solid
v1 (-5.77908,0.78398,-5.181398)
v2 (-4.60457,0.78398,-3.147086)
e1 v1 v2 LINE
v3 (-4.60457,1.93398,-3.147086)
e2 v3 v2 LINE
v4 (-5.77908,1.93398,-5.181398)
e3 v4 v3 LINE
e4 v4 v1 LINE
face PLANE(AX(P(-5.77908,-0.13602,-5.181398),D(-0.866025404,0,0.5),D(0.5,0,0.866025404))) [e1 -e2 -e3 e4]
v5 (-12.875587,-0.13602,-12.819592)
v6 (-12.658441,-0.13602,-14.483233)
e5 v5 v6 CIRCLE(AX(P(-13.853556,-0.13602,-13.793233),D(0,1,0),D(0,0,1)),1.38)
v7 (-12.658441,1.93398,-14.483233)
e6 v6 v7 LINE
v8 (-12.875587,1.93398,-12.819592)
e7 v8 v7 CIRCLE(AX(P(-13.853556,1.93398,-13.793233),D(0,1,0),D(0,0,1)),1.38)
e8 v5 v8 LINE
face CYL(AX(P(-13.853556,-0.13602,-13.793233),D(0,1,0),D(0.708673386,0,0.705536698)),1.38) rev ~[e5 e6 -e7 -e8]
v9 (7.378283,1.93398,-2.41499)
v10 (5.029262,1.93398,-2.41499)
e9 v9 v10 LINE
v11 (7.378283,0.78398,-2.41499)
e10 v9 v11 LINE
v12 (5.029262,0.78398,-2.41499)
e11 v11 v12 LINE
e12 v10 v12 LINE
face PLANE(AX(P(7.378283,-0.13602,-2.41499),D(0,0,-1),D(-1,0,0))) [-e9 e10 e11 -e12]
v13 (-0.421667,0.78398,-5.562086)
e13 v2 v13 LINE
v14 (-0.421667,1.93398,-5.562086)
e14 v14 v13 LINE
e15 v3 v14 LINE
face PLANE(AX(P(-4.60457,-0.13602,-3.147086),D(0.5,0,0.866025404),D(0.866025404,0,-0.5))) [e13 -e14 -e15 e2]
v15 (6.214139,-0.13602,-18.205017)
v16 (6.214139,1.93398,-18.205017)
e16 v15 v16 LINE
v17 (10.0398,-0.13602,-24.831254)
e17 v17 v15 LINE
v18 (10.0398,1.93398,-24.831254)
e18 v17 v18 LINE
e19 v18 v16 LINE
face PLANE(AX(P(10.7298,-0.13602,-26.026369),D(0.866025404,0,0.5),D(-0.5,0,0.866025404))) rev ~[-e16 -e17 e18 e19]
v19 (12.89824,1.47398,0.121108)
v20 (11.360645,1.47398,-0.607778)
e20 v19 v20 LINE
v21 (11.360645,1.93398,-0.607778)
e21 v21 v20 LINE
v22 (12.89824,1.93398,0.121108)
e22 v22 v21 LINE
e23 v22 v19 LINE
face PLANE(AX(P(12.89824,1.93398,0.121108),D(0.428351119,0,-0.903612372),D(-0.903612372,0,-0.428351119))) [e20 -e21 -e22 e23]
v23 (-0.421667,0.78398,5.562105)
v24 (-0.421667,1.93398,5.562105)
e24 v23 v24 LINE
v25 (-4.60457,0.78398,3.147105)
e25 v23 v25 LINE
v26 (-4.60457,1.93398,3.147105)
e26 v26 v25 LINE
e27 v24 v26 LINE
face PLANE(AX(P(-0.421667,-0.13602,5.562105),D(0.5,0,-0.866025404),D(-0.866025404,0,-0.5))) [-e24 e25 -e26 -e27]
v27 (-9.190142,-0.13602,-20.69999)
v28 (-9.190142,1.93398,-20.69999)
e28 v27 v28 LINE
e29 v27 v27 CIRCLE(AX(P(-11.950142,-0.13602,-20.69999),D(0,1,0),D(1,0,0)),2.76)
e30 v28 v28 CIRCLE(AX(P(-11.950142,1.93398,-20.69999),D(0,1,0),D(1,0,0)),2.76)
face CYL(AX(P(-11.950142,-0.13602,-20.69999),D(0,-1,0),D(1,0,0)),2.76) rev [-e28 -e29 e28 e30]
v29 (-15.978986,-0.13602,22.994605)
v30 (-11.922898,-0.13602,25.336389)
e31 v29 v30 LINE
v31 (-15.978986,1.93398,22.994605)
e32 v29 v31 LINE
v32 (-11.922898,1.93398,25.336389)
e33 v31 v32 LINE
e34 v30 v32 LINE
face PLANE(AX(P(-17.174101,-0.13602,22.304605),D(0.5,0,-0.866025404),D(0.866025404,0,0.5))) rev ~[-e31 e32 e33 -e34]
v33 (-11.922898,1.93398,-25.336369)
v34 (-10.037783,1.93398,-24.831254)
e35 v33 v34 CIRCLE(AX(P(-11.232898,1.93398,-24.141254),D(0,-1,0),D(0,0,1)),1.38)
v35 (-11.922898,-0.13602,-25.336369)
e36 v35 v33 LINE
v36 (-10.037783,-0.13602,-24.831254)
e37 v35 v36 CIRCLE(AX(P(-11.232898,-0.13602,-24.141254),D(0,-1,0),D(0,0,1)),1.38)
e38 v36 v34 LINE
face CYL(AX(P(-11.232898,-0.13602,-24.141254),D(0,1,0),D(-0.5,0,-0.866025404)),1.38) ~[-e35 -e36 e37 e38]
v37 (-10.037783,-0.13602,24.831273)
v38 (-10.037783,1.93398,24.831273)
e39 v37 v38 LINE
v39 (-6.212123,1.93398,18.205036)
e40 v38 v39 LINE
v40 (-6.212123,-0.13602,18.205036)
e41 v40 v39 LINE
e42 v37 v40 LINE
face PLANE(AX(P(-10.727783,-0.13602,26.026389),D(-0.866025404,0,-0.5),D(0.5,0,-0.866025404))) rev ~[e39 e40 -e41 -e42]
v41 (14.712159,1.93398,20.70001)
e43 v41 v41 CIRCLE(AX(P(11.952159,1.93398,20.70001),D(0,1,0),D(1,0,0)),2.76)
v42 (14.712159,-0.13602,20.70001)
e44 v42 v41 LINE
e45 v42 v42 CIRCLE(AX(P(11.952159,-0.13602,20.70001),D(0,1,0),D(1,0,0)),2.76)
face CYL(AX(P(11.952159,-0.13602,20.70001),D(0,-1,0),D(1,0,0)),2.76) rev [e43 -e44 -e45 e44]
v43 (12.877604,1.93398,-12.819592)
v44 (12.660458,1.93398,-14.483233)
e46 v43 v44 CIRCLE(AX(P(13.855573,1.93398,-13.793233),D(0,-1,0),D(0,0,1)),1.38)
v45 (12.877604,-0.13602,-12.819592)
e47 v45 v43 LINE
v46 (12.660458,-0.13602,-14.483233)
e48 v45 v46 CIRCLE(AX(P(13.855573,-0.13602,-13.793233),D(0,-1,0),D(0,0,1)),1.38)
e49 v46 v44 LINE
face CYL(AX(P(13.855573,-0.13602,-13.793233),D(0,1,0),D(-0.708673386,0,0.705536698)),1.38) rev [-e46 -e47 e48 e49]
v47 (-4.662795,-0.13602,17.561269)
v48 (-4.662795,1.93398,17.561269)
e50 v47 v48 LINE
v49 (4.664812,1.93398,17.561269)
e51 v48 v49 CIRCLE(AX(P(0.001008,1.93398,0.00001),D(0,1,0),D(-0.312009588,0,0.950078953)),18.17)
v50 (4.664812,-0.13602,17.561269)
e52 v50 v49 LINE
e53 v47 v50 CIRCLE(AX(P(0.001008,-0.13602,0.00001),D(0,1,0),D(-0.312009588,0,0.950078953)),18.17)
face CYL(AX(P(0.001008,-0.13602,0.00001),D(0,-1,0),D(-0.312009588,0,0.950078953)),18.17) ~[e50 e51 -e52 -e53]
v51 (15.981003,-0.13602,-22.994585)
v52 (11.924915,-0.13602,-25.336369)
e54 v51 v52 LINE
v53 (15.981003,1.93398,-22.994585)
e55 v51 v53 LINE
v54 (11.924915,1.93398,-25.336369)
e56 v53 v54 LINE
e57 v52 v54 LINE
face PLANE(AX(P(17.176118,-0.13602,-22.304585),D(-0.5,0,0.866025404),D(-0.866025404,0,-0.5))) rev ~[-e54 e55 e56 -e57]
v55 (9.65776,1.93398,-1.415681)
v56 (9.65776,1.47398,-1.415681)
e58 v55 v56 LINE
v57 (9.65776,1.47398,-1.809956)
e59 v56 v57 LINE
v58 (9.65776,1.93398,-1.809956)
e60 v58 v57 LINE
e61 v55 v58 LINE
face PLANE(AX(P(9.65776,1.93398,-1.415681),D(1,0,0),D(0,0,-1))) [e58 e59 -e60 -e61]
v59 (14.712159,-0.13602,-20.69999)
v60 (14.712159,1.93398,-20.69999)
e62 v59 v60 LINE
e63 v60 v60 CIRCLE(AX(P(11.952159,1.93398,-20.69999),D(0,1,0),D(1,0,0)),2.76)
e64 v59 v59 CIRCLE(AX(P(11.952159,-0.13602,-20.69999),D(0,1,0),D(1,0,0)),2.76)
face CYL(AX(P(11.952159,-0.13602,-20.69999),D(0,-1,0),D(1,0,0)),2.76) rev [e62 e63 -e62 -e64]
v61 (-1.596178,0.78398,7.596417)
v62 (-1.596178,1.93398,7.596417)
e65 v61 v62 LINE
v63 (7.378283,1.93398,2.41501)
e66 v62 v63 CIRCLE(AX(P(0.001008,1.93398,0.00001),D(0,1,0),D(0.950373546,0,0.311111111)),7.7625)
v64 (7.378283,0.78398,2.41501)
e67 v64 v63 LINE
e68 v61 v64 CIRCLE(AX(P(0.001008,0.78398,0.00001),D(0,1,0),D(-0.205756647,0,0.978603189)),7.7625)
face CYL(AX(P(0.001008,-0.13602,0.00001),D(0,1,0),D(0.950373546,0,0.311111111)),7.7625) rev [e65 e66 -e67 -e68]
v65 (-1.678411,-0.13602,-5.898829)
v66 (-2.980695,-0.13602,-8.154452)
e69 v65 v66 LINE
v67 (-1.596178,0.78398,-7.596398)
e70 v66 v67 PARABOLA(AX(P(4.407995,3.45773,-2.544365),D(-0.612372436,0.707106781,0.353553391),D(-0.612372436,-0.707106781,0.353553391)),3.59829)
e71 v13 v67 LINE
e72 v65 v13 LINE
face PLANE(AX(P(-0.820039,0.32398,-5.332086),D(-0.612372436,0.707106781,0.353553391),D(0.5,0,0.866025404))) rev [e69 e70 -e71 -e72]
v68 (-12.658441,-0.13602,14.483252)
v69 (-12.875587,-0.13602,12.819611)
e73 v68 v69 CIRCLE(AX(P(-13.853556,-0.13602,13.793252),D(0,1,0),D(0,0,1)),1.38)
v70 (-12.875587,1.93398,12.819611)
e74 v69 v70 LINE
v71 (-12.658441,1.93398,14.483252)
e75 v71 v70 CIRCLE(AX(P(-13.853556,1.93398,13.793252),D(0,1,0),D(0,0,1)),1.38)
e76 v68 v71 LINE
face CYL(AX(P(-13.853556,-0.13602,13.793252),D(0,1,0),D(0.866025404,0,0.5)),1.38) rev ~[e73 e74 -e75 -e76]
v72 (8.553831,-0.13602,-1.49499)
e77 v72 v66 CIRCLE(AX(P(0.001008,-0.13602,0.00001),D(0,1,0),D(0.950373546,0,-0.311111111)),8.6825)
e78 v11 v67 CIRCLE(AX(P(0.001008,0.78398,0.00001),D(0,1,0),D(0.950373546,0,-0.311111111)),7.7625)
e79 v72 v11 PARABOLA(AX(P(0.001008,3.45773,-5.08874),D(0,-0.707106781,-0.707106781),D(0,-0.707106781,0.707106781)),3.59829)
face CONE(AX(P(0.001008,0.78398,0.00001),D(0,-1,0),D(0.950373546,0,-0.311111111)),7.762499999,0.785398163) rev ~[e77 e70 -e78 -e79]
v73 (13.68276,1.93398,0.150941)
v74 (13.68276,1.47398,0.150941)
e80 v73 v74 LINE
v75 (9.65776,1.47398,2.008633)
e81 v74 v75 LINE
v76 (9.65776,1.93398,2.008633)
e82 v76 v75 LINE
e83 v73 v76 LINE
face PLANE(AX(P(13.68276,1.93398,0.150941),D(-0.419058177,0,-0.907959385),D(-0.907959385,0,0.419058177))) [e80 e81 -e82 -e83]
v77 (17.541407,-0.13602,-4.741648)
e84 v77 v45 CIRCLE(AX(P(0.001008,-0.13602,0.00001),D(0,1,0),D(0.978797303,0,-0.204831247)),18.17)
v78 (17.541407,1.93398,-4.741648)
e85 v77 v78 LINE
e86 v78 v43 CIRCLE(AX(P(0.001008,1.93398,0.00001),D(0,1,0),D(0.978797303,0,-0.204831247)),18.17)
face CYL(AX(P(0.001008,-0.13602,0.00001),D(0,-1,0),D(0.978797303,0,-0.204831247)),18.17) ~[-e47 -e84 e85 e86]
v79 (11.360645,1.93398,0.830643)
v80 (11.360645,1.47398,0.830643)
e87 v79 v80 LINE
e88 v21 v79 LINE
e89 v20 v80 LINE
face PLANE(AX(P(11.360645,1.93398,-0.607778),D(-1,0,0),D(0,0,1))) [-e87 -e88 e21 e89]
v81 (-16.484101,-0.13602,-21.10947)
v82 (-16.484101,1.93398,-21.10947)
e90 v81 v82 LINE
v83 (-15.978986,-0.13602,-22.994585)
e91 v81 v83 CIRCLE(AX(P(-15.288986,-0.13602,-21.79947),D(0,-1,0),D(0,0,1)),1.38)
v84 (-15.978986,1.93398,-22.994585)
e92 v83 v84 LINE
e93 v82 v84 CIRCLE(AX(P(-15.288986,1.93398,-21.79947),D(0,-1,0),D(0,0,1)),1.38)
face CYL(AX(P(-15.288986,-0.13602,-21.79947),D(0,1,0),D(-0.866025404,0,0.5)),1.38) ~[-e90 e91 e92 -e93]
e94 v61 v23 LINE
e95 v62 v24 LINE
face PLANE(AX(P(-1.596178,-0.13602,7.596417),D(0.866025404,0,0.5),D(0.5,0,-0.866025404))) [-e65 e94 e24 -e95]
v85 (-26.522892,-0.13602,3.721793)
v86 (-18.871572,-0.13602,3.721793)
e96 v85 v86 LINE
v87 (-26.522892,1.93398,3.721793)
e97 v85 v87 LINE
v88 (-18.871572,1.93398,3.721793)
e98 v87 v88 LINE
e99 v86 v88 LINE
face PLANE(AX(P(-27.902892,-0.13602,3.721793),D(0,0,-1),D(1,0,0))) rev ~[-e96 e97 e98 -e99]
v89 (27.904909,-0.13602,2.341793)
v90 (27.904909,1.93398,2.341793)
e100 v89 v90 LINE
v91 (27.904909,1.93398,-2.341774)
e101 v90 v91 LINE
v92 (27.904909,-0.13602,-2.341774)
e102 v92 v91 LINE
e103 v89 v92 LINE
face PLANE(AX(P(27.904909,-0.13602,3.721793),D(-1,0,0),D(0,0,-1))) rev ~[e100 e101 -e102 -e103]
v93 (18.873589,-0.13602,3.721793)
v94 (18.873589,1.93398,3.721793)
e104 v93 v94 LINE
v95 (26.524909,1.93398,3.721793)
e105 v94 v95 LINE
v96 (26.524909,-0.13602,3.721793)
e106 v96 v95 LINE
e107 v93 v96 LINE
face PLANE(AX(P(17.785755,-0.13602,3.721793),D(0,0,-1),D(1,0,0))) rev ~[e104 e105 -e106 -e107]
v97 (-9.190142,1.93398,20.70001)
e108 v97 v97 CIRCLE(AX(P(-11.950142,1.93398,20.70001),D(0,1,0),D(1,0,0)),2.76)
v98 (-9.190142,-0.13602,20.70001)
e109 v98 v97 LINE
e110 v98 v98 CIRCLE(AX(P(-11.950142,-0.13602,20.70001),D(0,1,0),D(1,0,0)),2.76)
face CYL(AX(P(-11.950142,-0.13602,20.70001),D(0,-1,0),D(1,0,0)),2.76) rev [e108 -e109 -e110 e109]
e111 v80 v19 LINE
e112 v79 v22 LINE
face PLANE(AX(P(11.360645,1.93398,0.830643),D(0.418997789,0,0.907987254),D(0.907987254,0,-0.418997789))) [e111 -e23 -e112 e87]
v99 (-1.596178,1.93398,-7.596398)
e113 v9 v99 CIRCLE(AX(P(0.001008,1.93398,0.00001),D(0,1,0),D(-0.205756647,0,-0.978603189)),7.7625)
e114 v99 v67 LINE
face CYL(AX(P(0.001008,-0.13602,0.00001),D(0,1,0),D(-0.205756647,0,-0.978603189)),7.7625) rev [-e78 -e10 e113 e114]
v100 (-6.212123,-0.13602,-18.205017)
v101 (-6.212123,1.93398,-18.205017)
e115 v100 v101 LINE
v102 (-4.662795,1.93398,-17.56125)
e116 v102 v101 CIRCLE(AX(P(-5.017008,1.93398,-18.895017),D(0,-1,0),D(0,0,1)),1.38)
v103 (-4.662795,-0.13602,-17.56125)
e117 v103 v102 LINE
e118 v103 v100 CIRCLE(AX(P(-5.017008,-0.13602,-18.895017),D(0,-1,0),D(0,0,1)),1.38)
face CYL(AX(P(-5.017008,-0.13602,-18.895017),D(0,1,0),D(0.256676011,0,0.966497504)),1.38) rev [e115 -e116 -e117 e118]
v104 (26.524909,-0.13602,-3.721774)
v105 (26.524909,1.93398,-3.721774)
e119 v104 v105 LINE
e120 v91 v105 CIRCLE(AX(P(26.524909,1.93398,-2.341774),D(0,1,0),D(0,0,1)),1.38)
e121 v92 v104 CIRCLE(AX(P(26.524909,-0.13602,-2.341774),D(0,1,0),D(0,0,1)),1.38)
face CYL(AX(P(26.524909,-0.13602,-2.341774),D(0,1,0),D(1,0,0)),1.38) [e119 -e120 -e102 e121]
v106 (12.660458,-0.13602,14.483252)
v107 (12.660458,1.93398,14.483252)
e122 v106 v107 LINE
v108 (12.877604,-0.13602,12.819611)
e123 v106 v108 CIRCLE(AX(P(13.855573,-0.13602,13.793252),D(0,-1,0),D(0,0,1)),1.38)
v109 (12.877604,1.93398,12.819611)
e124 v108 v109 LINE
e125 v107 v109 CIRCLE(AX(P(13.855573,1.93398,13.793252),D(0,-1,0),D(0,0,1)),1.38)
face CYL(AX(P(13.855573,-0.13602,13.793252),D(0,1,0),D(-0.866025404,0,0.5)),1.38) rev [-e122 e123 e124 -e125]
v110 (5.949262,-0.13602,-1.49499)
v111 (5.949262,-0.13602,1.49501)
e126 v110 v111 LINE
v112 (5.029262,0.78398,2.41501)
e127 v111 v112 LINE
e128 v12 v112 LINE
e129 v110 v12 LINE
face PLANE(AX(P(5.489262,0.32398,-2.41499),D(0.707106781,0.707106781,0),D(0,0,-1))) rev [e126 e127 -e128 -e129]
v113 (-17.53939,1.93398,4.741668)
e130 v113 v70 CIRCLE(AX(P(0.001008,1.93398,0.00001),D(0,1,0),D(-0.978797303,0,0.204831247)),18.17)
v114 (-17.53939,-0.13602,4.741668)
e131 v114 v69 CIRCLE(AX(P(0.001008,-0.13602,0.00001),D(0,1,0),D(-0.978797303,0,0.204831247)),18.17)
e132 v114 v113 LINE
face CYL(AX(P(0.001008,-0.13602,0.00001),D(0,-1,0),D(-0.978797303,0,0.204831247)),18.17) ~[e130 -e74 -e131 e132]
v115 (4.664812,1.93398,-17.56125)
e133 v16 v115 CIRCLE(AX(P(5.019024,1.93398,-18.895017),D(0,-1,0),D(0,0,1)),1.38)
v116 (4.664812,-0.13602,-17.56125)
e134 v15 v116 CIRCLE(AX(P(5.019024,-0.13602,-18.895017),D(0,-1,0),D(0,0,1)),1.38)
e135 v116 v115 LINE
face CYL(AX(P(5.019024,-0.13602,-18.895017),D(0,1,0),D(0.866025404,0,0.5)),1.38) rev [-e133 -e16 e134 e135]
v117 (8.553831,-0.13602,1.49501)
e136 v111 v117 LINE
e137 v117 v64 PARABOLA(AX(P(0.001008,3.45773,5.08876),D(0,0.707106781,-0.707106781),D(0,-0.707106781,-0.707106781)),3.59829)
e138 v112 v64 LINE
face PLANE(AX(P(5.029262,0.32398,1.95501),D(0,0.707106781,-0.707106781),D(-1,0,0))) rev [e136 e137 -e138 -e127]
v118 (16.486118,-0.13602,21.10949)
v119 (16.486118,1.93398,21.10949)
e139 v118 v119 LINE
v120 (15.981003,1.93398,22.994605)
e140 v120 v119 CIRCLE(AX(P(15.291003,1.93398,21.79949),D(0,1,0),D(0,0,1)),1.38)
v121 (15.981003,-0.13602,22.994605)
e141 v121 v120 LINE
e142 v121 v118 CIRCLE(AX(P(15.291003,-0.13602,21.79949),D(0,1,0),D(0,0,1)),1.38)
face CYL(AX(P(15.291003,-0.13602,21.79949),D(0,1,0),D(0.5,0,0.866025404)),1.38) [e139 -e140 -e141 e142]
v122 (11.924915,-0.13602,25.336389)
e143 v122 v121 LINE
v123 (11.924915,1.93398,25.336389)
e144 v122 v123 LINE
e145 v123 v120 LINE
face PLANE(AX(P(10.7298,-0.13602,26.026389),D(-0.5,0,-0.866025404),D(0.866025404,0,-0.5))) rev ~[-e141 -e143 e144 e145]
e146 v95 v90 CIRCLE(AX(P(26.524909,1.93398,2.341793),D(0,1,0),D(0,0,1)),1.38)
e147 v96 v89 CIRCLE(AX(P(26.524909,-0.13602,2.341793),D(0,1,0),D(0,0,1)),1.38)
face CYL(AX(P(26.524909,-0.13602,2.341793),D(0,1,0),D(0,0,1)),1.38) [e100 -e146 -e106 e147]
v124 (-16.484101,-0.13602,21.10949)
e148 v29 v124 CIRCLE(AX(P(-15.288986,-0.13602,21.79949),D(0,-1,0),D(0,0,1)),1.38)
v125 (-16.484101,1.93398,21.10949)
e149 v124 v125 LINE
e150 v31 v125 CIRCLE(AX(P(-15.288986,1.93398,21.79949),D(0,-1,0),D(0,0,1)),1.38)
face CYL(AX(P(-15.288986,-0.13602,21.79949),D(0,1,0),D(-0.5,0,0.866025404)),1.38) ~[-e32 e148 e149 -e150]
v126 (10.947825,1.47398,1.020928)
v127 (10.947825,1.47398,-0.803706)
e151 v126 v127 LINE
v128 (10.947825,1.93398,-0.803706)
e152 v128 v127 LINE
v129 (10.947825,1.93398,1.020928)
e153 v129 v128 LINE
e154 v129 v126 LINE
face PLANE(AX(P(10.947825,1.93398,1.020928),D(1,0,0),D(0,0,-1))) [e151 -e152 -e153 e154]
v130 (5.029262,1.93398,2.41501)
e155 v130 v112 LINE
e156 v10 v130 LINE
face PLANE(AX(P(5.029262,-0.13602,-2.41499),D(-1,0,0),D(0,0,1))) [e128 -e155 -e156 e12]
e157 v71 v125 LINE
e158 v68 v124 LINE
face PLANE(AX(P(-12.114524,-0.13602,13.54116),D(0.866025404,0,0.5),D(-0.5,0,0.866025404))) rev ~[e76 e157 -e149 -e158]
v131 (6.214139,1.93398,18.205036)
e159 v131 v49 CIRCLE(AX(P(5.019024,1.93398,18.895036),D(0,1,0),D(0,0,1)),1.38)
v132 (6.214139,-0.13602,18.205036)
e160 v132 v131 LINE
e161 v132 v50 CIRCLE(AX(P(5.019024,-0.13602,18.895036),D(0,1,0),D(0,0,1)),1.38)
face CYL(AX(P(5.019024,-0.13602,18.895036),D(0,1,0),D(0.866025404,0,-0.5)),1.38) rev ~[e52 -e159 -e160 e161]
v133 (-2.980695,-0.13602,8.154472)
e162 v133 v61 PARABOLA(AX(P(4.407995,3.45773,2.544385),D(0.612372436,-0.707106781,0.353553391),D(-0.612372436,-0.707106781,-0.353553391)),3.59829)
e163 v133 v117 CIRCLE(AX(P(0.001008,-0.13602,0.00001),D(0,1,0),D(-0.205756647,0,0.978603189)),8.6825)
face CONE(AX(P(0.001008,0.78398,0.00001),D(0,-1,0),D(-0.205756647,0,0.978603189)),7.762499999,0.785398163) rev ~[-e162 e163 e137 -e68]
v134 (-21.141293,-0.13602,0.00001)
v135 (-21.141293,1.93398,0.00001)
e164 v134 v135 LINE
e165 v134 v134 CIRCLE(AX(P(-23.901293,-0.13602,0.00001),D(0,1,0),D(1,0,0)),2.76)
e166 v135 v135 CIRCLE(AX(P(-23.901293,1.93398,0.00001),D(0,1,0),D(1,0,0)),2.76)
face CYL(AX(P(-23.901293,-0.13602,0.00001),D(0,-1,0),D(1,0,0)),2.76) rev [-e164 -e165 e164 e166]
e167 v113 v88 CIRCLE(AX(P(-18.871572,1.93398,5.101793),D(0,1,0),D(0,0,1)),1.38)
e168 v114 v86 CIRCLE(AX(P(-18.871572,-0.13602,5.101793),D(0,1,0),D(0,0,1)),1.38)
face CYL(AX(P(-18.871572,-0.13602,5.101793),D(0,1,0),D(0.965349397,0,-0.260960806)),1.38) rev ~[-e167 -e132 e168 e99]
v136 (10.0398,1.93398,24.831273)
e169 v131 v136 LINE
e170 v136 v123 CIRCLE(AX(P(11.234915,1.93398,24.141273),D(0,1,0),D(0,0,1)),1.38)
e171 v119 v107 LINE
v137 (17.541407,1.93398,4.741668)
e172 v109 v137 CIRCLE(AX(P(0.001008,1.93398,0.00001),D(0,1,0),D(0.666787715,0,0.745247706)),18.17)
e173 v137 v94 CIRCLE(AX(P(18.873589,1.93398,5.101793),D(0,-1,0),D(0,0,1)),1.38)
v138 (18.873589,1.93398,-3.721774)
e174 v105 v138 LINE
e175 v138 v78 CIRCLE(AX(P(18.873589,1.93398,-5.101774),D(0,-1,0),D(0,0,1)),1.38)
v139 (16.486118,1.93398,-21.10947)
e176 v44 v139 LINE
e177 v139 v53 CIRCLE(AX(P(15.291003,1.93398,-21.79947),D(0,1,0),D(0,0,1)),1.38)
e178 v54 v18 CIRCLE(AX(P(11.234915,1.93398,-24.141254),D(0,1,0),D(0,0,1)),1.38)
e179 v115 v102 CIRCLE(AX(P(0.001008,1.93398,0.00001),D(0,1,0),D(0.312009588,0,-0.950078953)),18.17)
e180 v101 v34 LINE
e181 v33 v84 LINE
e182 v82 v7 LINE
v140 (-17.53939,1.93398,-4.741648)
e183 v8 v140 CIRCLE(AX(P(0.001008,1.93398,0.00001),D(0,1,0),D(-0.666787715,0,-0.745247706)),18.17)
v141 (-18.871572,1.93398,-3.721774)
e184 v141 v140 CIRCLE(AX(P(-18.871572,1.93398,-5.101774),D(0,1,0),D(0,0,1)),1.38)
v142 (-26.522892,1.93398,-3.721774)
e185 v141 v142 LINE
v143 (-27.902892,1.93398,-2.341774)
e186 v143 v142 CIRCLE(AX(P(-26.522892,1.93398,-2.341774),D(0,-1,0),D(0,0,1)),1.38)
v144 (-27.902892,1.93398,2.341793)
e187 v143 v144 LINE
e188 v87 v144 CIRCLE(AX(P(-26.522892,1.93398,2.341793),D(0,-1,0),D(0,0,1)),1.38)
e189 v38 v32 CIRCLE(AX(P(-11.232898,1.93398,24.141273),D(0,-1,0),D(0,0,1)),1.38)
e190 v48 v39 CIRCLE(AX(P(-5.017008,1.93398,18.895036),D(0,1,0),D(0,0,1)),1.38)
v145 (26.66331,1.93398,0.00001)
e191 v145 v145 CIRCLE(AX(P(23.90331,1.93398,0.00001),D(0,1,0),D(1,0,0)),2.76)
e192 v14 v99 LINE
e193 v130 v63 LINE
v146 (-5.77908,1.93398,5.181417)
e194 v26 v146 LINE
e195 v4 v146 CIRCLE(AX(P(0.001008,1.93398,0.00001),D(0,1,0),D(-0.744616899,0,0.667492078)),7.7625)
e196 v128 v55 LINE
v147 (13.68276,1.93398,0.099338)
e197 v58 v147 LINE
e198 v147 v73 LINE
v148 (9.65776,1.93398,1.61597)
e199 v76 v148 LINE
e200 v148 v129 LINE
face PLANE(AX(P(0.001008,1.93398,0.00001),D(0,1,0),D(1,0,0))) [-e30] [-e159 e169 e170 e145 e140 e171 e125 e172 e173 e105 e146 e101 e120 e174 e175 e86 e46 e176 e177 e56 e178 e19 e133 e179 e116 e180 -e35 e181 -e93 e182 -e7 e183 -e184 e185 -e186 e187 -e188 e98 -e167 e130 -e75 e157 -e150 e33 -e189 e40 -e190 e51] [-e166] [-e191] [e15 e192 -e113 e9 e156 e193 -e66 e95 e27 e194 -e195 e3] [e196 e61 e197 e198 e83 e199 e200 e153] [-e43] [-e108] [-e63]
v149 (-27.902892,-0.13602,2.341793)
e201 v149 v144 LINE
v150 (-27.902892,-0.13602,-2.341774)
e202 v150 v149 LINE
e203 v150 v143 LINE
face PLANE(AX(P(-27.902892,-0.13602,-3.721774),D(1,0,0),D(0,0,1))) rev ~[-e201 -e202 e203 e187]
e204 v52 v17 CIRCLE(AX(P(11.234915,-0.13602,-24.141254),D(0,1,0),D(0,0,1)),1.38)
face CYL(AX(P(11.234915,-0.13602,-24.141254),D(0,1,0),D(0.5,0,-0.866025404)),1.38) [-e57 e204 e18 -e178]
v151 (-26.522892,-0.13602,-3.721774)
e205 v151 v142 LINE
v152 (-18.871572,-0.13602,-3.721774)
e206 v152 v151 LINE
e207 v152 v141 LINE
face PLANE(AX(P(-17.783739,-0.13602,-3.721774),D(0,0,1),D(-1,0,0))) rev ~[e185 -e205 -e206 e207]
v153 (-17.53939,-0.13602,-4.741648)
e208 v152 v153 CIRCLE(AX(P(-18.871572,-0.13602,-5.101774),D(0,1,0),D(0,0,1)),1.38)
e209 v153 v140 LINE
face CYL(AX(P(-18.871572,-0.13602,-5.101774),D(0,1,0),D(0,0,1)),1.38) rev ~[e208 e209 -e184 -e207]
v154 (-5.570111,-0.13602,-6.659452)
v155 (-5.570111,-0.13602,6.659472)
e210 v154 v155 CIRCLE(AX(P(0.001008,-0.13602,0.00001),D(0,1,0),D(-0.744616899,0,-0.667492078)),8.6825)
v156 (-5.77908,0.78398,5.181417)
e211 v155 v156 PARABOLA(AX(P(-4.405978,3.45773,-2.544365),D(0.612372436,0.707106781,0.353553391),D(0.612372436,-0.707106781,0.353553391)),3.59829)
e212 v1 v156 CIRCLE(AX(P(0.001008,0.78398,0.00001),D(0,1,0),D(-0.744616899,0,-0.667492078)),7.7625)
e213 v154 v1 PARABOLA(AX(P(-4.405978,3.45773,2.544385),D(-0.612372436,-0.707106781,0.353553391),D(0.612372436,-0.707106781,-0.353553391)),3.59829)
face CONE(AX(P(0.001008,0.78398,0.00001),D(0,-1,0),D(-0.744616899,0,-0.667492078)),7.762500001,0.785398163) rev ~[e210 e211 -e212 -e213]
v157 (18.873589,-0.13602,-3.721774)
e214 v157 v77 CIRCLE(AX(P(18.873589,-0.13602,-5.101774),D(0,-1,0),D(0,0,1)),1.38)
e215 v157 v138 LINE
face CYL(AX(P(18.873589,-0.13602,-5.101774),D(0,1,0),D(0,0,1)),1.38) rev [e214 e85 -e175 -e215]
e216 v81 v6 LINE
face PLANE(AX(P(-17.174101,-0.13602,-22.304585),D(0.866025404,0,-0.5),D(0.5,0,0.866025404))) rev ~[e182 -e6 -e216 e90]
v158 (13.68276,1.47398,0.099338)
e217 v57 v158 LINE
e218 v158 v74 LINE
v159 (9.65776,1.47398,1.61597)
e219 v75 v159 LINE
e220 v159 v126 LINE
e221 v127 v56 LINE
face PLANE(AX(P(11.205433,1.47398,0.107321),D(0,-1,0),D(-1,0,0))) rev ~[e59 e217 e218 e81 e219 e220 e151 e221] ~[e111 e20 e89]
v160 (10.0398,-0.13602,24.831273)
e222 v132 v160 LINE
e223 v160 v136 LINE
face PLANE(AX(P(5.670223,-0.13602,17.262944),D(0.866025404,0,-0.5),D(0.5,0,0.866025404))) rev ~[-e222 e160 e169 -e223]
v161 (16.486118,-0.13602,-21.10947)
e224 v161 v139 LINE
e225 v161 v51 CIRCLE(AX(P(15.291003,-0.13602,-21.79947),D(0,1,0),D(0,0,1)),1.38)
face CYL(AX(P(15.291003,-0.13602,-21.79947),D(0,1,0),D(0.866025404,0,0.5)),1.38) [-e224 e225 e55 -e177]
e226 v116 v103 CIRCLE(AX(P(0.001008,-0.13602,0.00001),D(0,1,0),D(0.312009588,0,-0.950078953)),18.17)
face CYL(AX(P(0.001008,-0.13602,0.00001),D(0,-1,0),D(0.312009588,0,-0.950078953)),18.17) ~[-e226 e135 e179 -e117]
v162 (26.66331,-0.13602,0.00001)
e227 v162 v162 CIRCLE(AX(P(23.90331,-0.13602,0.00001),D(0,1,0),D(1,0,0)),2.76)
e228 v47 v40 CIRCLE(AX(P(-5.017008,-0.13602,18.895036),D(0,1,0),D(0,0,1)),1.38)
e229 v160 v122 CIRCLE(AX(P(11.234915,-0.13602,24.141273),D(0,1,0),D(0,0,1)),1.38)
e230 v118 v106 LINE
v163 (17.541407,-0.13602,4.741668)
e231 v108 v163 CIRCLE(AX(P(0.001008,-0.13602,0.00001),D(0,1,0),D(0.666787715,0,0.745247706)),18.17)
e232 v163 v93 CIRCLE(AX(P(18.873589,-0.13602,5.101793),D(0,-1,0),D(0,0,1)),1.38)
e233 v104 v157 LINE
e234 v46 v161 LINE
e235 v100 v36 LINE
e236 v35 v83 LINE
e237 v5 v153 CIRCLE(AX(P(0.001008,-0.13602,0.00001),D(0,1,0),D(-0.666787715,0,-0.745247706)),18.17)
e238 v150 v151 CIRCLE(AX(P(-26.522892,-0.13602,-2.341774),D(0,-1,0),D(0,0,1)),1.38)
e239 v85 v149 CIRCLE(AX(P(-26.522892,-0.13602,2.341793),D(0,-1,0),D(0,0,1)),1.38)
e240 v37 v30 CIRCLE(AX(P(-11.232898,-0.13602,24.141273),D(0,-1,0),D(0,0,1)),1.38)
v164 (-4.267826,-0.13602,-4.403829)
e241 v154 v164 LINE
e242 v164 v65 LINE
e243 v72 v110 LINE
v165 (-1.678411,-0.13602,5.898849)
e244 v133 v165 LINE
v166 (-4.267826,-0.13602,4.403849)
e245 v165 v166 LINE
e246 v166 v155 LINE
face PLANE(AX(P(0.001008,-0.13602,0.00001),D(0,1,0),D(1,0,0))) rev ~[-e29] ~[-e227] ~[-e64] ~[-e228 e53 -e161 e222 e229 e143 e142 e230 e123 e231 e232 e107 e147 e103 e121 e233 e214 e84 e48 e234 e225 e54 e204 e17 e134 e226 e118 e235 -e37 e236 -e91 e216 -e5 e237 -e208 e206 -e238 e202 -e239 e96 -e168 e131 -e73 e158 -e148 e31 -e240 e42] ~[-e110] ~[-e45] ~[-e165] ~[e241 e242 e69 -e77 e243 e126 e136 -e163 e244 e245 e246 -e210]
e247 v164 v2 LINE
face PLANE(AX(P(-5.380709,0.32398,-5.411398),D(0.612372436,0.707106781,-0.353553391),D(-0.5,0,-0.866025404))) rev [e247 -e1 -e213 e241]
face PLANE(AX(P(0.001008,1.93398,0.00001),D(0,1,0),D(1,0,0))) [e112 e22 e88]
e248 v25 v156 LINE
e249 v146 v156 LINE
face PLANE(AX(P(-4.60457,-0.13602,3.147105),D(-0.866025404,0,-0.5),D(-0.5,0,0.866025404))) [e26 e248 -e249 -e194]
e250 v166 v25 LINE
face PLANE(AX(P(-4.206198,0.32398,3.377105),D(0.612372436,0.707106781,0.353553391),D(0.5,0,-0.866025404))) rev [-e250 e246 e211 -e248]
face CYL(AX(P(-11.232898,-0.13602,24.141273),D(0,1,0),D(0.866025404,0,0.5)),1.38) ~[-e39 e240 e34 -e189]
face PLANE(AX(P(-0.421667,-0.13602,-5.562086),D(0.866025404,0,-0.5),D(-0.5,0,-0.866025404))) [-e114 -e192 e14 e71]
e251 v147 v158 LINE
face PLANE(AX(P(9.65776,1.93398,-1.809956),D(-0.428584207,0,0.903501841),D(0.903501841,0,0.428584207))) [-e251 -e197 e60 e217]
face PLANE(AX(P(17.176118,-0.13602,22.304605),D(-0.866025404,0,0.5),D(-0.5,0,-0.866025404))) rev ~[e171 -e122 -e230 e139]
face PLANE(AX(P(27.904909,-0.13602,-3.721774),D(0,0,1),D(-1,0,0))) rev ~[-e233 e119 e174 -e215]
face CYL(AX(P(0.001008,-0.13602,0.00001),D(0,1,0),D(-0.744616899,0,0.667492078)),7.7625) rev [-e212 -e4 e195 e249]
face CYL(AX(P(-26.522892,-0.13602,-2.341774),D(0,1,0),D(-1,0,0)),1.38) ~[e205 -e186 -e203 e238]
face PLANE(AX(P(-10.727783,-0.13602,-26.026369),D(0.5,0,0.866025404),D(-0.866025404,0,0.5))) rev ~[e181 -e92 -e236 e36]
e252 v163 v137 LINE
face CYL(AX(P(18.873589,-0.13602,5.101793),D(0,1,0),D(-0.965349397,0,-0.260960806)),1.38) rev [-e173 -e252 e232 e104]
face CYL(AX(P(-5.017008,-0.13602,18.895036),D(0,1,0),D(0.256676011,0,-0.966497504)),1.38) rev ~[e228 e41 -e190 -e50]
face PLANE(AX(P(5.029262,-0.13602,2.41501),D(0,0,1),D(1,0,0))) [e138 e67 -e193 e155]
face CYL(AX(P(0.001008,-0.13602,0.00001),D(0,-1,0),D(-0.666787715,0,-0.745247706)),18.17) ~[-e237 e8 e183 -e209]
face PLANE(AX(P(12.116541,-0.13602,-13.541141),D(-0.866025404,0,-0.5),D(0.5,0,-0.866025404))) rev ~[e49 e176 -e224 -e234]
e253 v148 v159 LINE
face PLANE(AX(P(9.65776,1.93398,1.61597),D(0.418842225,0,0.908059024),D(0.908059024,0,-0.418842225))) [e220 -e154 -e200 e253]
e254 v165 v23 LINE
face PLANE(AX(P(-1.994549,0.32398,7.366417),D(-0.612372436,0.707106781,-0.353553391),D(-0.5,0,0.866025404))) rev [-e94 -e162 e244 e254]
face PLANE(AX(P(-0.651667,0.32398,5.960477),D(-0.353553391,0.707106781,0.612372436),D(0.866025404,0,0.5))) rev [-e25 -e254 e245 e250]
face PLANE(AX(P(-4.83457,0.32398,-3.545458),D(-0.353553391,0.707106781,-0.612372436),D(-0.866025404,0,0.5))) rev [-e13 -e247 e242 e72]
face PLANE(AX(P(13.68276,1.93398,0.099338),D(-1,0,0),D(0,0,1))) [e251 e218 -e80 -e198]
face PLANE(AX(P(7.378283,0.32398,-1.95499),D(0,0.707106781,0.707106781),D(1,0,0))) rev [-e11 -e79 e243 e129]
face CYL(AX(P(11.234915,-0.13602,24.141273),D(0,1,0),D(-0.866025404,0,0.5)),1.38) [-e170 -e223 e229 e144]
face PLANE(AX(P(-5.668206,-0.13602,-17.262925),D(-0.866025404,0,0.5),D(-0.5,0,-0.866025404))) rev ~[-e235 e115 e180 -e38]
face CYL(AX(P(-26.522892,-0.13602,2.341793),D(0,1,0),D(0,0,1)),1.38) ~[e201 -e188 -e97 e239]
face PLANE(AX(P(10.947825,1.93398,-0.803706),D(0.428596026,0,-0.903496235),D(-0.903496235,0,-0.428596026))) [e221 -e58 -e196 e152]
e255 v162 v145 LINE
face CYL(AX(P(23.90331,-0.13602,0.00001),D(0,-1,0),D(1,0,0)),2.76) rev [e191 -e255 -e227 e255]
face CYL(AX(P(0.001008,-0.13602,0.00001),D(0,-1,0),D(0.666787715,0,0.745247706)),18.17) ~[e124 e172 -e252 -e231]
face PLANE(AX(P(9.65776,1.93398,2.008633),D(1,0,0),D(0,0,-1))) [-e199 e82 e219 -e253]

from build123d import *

# Parameters (mm, degrees)
SKETCH1_R           = 2.4
BOSS_EXTRUDE1_DEPTH = 1.8
FILLET11_R          = 1.2
CUT_EXTRUDE3_DEPTH  = 0.4
CUT_EXTRUDE4_DEPTH  = 2.5
CHAMFER1_SIZE       = 0.8
SCALE1_SCALE        = 1.15


with BuildPart() as part:
    # Sketch1 → Boss-Extrude1 (new body)
    with BuildSketch(Plane(origin=(0, 0, 0), x_dir=(1, 0, 0), z_dir=(0, 1, 0))):
        with BuildLine():
            Line((4.929751496, -15.011247456), (9.329383596, -22.631633787))
            Line((9.329383596, -22.631633787), (14.934877991, -19.395300089))
            Line((14.934877991, -19.395300089), (10.535245891, -11.774913758))
            ThreePointArc((10.535245891, -11.774913758), (13.68320138, -7.9), (15.464997388, -3.236333698))
            Line((15.464997388, -3.236333698), (24.264261587, -3.236333698))
            Line((24.264261587, -3.236333698), (24.264261587, 3.236333698))
            Line((24.264261587, 3.236333698), (15.464997388, 3.236333698))
            ThreePointArc((15.464997388, 3.236333698), (13.68320138, 7.9), (10.535245891, 11.774913758))
            Line((10.535245891, 11.774913758), (14.934877991, 19.395300089))
            Line((14.934877991, 19.395300089), (9.329383596, 22.631633787))
            Line((9.329383596, 22.631633787), (4.929751496, 15.011247456))
            ThreePointArc((4.929751496, 15.011247456), (0, 15.8), (-4.929751496, 15.011247456))
            Line((-4.929751496, 15.011247456), (-9.329383596, 22.631633787))
            Line((-9.329383596, 22.631633787), (-14.934877991, 19.395300089))
            Line((-14.934877991, 19.395300089), (-10.535245891, 11.774913758))
            ThreePointArc((-10.535245891, 11.774913758), (-13.68320138, 7.9), (-15.464997388, 3.236333698))
            Line((-15.464997388, 3.236333698), (-24.264261587, 3.236333698))
            Line((-24.264261587, 3.236333698), (-24.264261587, -3.236333698))
            Line((-24.264261587, -3.236333698), (-15.464997388, -3.236333698))
            ThreePointArc((-15.464997388, -3.236333698), (-13.68320138, -7.9), (-10.535245891, -11.774913758))
            Line((-10.535245891, -11.774913758), (-14.934877991, -19.395300089))
            Line((-14.934877991, -19.395300089), (-9.329383596, -22.631633787))
            Line((-9.329383596, -22.631633787), (-4.929751496, -15.011247456))
            ThreePointArc((-4.929751496, -15.011247456), (0, -15.8), (4.929751496, -15.011247456))
        make_face()
        with Locations((20.784609691, 0)):
            Circle(SKETCH1_R, mode=Mode.SUBTRACT)
        with Locations((10.392304845, -18)):
            Circle(SKETCH1_R, mode=Mode.SUBTRACT)
        with Locations((-10.392304845, -18)):
            Circle(SKETCH1_R, mode=Mode.SUBTRACT)
        with Locations((-20.784609691, 0)):
            Circle(SKETCH1_R, mode=Mode.SUBTRACT)
        with Locations((-10.392304845, 18)):
            Circle(SKETCH1_R, mode=Mode.SUBTRACT)
        with Locations((10.392304845, 18)):
            Circle(SKETCH1_R, mode=Mode.SUBTRACT)
    extrude(amount=BOSS_EXTRUDE1_DEPTH)

    # Fillet11
    fillet11_edges = [part.edges().sort_by_distance(p)[0] for p in [
        (24.264261587, 0.9, 3.236333698),
        (15.464997388, 0.9, 3.236333698),
        (10.535245891, 0.9, 11.774913758),
        (14.934877991, 0.9, 19.395300089),
        (9.329383596, 0.9, 22.631633787),
        (4.929751496, 0.9, 15.011247456),
        (-4.929751496, 0.9, 15.011247456),
        (-9.329383596, 0.9, 22.631633787),
        (-14.934877991, 0.9, 19.395300089),
        (-10.535245891, 0.9, 11.774913758),
        (-15.464997388, 0.9, 3.236333698),
        (-24.264261587, 0.9, 3.236333698),
        (-24.264261587, 0.9, -3.236333698),
        (-15.464997388, 0.9, -3.236333698),
        (-10.535245891, 0.9, -11.774913758),
        (-14.934877991, 0.9, -19.395300089),
        (-9.329383596, 0.9, -22.631633787),
        (-4.929751496, 0.9, -15.011247456),
        (4.929751496, 0.9, -15.011247456),
        (9.329383596, 0.9, -22.631633787),
        (14.934877991, 0.9, -19.395300089),
        (10.535245891, 0.9, -11.774913758),
        (15.464997388, 0.9, -3.236333698),
        (24.264261587, 0.9, -3.236333698),
    ]]
    fillet(fillet11_edges, radius=FILLET11_R)

    # Sketch10 → Cut-Extrude3 (cut)
    with BuildSketch(Plane(origin=(0, 1.8, 0), x_dir=(1, 0, 0), z_dir=(0, 1, 0))):
        Polygon((11.897175645, -0.131244585), (8.397175645, -1.7466292), (8.397175645, -1.405182886), (9.518970517, -0.887755001), (9.518970517, 0.698883621), (8.397175645, 1.231035063), (8.397175645, 1.573883621), (11.897175645, -0.08637279), align=None)
        Polygon((11.214984138, -0.105303078), (9.877944876, 0.528511024), (9.877944876, -0.722290258), align=None, mode=Mode.SUBTRACT)
    extrude(amount=-CUT_EXTRUDE3_DEPTH, mode=Mode.SUBTRACT)

    # Sketch11 → Cut-Extrude4 (cut, symmetric)
    with BuildSketch(Plane(origin=(0, 0, 0), x_dir=(1, 0, 0), z_dir=(0, 1, 0))):
        with BuildLine():
            Line((-0.367543966, -4.836604823), (-4.004850662, -2.736604823))
            Line((-4.004850662, -2.736604823), (-5.026164065, -4.505571528))
            ThreePointArc((-5.026164065, -4.505571528), (-6.75, 0), (-5.026164065, 4.505571528))
            Line((-5.026164065, 4.505571528), (-4.004850662, 2.736604823))
            Line((-4.004850662, 2.736604823), (-0.367543966, 4.836604823))
            Line((-0.367543966, 4.836604823), (-1.388857369, 6.605571528))
            ThreePointArc((-1.388857369, 6.605571528), (3.375, 5.845671476), (6.415021434, 2.1))
            Line((6.415021434, 2.1), (4.372394628, 2.1))
            Line((4.372394628, 2.1), (4.372394628, -2.1))
            Line((4.372394628, -2.1), (6.415021434, -2.1))
            ThreePointArc((6.415021434, -2.1), (3.375, -5.845671476), (-1.388857369, -6.605571528))
            Line((-1.388857369, -6.605571528), (-0.367543966, -4.836604823))
        make_face()
    extrude(amount=CUT_EXTRUDE4_DEPTH, both=True, mode=Mode.SUBTRACT)

    # Chamfer1
    chamfer1_edges = [part.edges().sort_by_distance(p)[0] for p in [
        (5.393708031, 0, -2.1),
        (4.372394628, 0, 0),
        (5.393708031, 0, 2.1),
        (3.375, 0, 5.845671476),
        (-0.878200668, 0, 5.721088175),
        (-2.186197314, 0, 3.786604823),
        (-4.515507363, 0, 3.621088175),
        (-6.75, 0, 0),
        (-4.515507363, 0, -3.621088175),
        (-2.186197314, 0, -3.786604823),
        (-0.878200668, 0, -5.721088175),
        (3.375, 0, -5.845671476),
    ]]
    chamfer(chamfer1_edges, length=CHAMFER1_SIZE)


with BuildPart() as part_1:
    # Scale1: scaled about (-0.006722783, 0.906799408, -6.4443e-05)
    add(part.part.scale(SCALE1_SCALE).moved(Location((0.001008417, -0.136019911, 9.666e-06))))


solid = part_1.part
